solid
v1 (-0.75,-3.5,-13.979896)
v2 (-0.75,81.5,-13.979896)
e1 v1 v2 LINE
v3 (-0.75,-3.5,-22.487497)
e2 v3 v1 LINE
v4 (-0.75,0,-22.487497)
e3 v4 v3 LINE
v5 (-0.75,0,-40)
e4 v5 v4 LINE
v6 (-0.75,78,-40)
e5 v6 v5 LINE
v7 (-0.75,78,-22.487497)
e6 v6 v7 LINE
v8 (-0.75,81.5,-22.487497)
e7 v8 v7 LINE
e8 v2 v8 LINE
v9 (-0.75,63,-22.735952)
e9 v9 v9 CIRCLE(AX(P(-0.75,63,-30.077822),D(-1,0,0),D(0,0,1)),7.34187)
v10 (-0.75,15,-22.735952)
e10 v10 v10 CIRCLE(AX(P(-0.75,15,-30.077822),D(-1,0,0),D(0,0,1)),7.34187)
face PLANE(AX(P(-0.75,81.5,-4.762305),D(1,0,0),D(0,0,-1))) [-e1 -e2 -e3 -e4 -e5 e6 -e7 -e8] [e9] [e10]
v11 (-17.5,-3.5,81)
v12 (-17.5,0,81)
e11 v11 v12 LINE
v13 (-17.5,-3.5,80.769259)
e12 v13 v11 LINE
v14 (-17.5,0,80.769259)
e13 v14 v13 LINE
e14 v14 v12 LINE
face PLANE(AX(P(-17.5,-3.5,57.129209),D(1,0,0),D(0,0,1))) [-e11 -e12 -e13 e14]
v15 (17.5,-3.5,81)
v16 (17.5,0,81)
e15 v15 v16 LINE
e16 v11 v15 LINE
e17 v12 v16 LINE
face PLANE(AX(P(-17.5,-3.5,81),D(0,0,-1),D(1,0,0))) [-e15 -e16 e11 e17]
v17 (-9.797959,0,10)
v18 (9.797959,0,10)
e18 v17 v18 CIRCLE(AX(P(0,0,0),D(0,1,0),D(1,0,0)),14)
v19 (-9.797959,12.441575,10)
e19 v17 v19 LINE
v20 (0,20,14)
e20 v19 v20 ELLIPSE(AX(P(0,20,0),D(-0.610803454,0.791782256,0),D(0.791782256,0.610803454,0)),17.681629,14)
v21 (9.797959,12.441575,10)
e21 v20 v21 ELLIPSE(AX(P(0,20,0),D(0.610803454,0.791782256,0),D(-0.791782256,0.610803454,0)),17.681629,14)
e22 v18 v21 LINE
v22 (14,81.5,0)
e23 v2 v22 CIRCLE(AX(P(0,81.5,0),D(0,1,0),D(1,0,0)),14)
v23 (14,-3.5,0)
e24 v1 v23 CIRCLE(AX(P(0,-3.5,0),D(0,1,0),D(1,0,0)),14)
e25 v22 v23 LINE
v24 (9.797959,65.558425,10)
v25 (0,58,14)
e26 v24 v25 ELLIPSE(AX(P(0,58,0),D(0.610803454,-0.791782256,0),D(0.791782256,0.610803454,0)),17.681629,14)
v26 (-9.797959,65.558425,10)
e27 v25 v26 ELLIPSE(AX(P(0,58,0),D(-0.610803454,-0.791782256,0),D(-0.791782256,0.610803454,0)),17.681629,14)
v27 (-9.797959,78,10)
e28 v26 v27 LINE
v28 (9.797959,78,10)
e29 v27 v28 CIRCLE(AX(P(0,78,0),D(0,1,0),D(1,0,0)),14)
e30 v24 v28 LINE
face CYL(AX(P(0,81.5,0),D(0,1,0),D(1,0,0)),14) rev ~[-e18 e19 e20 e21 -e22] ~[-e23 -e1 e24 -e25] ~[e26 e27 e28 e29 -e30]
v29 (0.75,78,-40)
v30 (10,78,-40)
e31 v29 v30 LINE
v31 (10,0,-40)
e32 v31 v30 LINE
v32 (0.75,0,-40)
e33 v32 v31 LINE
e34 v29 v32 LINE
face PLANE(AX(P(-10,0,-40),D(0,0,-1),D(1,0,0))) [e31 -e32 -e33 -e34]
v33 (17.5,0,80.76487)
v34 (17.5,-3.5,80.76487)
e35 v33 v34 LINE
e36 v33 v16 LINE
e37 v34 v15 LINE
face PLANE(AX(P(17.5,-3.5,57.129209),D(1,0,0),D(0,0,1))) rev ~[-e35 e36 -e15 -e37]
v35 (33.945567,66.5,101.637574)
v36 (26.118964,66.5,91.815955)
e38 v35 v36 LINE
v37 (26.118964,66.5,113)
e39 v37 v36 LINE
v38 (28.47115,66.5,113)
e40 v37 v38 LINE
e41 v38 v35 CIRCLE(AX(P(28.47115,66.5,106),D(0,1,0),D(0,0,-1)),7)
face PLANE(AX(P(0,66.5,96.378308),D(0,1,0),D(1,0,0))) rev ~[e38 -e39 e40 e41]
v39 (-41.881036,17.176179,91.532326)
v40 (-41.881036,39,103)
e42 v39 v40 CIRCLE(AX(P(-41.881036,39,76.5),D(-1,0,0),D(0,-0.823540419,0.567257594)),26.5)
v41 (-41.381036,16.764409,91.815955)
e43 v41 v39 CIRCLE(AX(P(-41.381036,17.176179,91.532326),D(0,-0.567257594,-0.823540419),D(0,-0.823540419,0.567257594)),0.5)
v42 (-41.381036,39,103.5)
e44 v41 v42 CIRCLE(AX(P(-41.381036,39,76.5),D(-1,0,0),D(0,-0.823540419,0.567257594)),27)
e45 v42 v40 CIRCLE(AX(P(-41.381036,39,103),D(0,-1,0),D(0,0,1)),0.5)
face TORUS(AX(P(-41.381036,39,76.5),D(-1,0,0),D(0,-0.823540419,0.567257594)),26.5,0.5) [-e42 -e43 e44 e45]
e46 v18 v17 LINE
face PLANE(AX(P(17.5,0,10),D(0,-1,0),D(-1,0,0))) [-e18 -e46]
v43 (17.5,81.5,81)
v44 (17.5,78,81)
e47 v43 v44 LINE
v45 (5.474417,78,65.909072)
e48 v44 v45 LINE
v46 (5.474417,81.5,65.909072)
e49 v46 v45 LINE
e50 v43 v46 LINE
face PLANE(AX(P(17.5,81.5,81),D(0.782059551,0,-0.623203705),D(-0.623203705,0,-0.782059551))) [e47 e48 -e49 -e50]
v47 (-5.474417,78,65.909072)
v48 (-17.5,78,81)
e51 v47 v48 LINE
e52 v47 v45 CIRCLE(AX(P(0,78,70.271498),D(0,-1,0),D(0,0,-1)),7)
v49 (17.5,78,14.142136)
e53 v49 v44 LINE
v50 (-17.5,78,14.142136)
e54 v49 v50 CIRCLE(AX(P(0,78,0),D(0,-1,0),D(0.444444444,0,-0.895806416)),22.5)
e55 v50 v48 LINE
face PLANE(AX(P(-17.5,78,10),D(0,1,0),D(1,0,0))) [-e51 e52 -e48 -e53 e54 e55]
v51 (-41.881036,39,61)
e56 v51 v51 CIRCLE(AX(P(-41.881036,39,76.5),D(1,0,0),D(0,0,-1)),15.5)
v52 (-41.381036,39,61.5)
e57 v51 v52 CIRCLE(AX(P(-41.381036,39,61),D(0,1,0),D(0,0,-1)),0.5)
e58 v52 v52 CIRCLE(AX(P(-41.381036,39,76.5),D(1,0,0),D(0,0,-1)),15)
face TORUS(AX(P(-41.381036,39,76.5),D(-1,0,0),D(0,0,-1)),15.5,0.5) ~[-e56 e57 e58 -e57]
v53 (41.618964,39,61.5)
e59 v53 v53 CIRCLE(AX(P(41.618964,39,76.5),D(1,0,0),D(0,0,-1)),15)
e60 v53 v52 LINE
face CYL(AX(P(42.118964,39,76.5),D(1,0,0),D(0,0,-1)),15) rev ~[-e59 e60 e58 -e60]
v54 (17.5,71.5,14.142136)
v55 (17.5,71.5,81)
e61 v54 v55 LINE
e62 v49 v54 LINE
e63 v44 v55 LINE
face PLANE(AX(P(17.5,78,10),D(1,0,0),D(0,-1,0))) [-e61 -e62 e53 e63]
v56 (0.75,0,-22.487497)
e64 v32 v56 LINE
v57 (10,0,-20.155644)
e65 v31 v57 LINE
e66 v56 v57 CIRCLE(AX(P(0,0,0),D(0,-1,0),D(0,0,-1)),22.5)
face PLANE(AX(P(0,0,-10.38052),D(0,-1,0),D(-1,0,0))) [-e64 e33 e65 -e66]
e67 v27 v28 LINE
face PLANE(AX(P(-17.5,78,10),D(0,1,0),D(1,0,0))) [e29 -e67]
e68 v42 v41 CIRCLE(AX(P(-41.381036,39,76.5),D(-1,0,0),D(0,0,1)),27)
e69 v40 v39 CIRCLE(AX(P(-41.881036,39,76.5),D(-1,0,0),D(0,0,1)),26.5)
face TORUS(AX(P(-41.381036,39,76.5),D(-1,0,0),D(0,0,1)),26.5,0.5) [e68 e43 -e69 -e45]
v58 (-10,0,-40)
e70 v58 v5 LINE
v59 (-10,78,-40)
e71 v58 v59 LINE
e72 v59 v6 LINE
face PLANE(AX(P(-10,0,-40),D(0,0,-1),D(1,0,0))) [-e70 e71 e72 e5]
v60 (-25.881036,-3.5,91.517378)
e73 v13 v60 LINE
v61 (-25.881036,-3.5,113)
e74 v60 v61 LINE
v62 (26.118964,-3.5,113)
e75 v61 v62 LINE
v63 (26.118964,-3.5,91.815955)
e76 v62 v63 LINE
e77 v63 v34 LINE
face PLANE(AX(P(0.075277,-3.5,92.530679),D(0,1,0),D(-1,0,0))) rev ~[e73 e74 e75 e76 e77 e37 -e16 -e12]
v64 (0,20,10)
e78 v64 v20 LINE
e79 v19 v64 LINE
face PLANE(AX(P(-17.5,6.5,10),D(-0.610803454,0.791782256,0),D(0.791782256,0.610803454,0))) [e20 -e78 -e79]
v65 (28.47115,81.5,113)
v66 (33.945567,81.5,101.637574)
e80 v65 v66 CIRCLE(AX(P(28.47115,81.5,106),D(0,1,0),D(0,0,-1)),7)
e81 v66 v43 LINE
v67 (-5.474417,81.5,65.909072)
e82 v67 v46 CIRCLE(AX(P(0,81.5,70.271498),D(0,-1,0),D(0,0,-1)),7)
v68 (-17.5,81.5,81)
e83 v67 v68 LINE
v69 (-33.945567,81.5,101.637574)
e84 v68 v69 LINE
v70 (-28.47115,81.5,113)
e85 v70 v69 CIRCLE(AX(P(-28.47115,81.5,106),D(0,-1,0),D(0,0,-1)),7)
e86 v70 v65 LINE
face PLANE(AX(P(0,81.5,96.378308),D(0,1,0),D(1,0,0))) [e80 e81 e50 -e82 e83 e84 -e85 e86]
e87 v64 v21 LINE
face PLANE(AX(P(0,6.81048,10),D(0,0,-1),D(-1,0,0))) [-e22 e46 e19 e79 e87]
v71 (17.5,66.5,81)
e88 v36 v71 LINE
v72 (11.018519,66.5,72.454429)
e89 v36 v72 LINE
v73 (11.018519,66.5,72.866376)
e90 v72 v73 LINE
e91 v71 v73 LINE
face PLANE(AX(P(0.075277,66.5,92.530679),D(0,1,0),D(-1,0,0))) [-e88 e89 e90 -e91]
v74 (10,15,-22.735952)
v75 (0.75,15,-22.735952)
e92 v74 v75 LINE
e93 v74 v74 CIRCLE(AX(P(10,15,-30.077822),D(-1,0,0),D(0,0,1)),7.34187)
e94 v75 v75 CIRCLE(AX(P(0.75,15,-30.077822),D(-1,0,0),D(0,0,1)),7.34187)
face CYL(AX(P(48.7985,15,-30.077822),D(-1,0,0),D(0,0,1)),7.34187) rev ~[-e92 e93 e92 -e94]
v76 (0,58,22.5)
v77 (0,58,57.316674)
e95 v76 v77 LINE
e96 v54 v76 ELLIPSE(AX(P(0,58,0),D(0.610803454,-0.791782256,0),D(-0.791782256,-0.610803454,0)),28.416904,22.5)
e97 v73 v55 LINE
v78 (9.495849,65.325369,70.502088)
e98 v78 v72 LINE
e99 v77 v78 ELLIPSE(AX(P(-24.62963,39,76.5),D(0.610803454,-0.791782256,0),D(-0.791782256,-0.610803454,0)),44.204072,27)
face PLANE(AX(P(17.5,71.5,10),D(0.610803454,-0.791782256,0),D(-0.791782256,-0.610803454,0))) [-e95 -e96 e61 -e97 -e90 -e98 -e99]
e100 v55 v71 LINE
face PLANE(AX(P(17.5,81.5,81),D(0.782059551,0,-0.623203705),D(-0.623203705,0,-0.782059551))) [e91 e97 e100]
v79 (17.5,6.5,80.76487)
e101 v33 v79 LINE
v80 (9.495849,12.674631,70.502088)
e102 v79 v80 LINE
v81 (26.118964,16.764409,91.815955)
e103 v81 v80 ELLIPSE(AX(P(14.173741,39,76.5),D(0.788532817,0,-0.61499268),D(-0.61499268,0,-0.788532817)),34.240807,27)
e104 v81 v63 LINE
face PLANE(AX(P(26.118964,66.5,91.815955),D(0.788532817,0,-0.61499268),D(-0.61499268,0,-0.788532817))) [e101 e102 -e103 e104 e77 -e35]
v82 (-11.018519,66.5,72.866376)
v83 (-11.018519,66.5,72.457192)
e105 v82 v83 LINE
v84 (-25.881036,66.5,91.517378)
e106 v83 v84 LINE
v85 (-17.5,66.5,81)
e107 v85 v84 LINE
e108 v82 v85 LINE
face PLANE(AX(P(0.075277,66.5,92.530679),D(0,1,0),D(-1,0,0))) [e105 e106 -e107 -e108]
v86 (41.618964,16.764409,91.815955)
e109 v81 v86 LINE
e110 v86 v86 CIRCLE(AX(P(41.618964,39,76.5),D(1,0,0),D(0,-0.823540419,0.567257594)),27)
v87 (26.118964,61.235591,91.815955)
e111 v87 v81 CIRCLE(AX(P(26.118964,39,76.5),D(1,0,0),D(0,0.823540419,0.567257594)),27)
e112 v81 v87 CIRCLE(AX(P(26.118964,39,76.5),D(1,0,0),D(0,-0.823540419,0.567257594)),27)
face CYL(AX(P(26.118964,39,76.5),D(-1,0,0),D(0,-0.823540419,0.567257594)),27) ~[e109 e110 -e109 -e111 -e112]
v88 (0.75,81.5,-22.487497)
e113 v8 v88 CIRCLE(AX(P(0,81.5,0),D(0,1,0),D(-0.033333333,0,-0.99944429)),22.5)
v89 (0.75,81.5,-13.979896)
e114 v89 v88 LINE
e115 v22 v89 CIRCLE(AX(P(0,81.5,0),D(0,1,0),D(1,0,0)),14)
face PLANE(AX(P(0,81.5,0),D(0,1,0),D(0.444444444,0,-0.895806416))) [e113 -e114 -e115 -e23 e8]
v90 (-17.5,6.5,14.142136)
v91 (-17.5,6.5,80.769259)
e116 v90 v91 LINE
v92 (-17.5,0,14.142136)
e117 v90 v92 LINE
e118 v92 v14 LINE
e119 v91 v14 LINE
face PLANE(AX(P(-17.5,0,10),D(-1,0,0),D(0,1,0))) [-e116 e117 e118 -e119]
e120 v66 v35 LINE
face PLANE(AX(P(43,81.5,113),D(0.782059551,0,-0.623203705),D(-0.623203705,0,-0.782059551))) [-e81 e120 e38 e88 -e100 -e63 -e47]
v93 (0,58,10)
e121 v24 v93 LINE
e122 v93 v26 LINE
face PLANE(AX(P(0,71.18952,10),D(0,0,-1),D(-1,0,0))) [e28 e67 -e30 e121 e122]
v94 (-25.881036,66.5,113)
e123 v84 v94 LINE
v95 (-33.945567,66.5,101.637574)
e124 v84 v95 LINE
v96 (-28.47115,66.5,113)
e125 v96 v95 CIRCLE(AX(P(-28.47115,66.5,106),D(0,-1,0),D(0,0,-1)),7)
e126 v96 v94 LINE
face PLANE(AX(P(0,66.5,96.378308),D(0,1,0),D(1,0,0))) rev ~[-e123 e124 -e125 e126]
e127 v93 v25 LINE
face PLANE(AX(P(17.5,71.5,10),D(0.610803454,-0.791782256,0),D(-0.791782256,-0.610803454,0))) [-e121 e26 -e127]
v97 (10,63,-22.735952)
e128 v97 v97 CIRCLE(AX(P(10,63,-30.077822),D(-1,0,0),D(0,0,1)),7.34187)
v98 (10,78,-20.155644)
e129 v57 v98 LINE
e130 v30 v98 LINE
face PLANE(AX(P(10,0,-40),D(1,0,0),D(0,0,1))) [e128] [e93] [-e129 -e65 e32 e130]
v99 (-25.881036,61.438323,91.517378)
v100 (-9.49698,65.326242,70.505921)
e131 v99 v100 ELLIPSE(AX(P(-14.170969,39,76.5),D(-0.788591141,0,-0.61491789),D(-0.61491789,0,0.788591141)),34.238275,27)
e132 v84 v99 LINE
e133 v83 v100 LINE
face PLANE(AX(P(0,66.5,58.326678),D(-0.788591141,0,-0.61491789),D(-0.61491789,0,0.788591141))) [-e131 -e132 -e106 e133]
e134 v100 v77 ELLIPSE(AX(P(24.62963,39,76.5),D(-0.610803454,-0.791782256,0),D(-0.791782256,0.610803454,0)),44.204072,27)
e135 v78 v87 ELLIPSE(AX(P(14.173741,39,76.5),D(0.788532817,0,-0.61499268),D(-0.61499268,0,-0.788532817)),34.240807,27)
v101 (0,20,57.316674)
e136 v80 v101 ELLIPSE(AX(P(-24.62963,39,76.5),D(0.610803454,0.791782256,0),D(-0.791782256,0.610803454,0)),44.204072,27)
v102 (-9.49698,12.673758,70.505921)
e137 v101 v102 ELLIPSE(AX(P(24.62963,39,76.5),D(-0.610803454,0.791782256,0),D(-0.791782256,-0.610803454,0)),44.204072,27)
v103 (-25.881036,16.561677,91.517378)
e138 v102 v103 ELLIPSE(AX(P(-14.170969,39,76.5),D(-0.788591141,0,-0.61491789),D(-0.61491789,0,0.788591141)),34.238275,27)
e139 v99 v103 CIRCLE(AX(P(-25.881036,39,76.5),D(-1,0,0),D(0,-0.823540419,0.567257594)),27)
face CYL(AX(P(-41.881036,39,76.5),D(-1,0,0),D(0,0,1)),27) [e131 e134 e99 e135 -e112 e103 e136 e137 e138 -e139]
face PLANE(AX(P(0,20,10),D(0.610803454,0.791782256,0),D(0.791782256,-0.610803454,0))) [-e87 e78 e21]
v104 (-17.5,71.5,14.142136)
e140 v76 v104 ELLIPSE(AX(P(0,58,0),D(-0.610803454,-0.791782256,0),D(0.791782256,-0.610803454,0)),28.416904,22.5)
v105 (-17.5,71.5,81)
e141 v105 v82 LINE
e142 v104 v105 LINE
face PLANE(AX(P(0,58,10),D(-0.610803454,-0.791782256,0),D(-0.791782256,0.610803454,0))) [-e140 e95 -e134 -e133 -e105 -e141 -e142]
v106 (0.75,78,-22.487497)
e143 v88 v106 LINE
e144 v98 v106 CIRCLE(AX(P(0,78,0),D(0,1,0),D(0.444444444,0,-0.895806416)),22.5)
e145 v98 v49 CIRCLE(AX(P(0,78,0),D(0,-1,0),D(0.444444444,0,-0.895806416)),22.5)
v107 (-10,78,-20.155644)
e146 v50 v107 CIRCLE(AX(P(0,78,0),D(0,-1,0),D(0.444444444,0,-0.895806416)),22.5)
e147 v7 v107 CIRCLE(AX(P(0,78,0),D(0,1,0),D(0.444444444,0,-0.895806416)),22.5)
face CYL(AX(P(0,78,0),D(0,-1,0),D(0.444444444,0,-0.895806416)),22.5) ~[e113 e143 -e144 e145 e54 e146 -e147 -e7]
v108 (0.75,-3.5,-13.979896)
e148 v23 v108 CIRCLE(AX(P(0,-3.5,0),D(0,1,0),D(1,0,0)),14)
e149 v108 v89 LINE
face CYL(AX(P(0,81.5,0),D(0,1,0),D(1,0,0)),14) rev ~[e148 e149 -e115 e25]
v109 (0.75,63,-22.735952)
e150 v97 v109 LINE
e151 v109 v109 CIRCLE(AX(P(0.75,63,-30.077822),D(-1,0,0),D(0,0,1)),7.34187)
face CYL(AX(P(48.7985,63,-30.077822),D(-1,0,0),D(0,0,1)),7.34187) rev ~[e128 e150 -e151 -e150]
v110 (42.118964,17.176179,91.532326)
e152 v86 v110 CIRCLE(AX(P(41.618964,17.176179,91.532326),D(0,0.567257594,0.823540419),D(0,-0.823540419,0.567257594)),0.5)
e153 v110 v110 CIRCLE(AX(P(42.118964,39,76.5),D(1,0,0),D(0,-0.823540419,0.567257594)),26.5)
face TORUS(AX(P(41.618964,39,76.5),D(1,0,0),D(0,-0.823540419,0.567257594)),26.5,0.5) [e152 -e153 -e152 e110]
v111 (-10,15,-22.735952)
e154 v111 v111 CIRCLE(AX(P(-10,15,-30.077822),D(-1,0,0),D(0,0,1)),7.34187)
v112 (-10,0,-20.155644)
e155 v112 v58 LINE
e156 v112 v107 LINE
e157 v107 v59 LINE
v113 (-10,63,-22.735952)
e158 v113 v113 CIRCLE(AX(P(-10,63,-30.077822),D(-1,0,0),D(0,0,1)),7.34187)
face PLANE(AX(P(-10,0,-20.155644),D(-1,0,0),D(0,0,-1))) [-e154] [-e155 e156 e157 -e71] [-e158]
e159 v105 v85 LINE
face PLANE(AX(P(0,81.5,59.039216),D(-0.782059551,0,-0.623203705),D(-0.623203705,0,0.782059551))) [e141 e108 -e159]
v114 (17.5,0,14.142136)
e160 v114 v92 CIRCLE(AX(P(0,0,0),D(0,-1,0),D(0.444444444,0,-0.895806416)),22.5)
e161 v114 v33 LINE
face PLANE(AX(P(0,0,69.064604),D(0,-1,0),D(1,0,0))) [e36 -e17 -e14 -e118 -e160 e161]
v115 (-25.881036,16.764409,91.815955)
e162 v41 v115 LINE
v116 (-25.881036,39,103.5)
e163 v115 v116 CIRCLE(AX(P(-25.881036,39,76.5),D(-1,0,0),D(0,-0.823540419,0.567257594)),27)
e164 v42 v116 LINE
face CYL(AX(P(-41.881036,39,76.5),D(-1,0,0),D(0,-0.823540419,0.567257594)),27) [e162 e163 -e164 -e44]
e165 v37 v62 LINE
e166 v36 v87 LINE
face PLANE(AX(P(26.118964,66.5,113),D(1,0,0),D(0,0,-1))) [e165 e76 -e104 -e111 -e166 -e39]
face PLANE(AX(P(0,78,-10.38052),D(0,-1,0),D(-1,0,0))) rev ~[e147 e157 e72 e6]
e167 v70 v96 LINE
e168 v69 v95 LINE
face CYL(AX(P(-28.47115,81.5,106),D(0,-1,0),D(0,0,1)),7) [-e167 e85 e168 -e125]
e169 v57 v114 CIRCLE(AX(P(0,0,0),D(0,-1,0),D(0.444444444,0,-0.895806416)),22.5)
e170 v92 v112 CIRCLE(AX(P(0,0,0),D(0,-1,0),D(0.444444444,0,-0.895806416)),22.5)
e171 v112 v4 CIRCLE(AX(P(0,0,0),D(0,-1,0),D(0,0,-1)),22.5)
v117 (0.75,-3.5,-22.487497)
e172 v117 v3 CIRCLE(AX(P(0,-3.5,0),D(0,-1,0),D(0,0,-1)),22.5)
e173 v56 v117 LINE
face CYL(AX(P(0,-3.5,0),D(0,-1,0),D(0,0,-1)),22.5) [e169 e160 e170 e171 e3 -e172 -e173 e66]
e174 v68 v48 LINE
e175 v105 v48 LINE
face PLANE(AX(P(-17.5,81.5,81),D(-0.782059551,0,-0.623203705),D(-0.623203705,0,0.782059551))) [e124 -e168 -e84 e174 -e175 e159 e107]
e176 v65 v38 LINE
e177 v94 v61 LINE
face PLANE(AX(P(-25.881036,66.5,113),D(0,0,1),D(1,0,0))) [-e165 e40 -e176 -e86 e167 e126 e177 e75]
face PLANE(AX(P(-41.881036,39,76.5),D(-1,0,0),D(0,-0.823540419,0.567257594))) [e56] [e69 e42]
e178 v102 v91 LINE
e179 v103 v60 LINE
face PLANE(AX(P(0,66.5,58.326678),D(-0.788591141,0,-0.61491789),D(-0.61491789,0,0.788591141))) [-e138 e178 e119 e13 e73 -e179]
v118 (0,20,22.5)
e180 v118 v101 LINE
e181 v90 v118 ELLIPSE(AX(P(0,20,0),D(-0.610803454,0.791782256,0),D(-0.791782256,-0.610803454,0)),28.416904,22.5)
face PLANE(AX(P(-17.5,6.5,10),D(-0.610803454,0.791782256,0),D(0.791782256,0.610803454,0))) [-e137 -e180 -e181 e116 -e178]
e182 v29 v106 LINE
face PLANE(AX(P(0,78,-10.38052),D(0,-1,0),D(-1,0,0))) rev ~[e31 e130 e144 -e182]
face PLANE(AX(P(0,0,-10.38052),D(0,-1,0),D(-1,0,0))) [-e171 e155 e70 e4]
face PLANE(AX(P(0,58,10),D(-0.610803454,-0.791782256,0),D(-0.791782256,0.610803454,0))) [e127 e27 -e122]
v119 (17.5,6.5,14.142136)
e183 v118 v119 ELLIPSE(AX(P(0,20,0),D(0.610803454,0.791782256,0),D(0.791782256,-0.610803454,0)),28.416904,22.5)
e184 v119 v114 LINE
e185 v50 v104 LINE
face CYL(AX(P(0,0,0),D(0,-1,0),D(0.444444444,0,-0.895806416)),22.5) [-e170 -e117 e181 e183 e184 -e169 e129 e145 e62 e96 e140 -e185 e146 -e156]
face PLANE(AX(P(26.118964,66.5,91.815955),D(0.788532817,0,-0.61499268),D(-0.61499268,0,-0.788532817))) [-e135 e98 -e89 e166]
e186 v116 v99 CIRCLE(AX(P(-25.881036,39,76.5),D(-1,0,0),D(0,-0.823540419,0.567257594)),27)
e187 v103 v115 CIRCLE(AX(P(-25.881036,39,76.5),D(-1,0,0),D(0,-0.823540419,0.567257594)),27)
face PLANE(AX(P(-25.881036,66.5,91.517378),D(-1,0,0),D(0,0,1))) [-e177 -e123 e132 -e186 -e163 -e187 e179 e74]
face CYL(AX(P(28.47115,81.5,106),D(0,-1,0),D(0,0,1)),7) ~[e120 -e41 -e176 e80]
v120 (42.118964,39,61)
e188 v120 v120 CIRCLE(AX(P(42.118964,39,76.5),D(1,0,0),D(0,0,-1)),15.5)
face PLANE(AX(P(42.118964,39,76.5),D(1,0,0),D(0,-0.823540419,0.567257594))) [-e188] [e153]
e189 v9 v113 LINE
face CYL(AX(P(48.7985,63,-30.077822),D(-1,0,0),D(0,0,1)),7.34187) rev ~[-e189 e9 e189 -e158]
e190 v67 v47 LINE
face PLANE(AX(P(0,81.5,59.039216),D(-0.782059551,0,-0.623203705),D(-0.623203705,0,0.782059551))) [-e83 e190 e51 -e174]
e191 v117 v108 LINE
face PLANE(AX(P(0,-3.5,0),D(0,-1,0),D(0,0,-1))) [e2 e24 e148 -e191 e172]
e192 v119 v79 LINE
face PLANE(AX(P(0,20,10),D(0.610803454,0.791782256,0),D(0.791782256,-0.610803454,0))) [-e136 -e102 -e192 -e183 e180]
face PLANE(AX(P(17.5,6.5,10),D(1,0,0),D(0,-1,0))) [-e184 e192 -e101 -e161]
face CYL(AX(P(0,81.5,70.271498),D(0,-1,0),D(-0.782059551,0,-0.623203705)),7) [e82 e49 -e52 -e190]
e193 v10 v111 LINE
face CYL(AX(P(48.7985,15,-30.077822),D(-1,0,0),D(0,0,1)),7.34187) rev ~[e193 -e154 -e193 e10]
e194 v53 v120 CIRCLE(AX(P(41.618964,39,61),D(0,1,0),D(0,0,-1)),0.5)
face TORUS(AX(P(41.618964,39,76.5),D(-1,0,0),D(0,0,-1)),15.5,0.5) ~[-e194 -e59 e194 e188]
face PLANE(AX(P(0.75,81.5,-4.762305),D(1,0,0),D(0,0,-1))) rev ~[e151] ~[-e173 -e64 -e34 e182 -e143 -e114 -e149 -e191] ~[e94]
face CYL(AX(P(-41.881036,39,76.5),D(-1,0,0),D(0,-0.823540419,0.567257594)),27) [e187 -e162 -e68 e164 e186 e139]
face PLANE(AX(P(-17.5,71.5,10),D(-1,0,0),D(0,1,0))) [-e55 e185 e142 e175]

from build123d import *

# Parameters (mm, degrees)
EXTRUDE_1_DEPTH            = 78
SKETCH_3_R                 = 22.5
EXTRUDE_2_DEPTH            = 3.5
EXTRUDE_START              = 3.5
SKETCH_4_R                 = 22.5
EXTRUDE_3_DEPTH            = 3.5
SKETCH_5_W                 = 1.5
SKETCH_5_H                 = 36.764720589
CUT_EXTRUDE_1_DEPTH        = 97.598395432
SKETCH_6_R                 = 14
CUT_EXTRUDE_2_DEPTH        = 97.598395432
EXTRUDE_4_DEPTH            = 71
EXTRUDE_5_DEPTH            = 15
FILLET_1_R                 = 7
EXTRUDE_6_DEPTH            = 70
SKETCH_10_W                = 35
SKETCH_10_H                = 23.870791075
CUT_EXTRUDE_3_DEPTH        = 3.5
SKETCH_11_R                = 27
EXTRUDE_7_DEPTH            = 16
EXTRUDE_START_2            = 16
SKETCH_12_R                = 27
EXTRUDE_8_DEPTH            = 16
EXTRUDE_START_3            = 68
SKETCH_13_R                = 27
EXTRUDE_9_DEPTH            = 68
SKETCH_16_R                = 15
CUT_EXTRUDE_4_DEPTH        = 163.687584038
FILLET_2_R                 = 0.5
HOLE_WIZARD_5_8_18_1_D     = 14.68374
HOLE_WIZARD_5_8_18_1_DEPTH = 38.7985
HOLE_WIZARD_5_8_18_1_TIP   = 4.411440553


with BuildPart() as part:
    # 草图1 → 拉伸1 (new body)
    with BuildSketch(Plane(origin=(0, 0, 0), x_dir=(1, 0, 0), z_dir=(0, 1, 0))):
        with BuildLine():
            Line((-10, 20.155644371), (-10, 40))
            Line((-10, 40), (10, 40))
            Line((10, 40), (10, 20.155644371))
            ThreePointArc((10, 20.155644371), (0, -22.5), (-10, 20.155644371))
        make_face()
    extrude(amount=EXTRUDE_1_DEPTH)

    # 草图3 → 拉伸2 (add)
    with BuildSketch(Plane(origin=(0, 78, 0), x_dir=(1, 0, 0), z_dir=(0, 1, 0))):
        with Locations(Location((0, 0, 0), (0, 0, 63.612200039))):
            Circle(SKETCH_3_R)
    extrude(amount=EXTRUDE_2_DEPTH)

    # 草图4 → 拉伸3 (add)
    with BuildSketch(Plane.XZ.offset(EXTRUDE_START)):
        with Locations(Location((0, 0, 0), (0, 0, 270))):
            Circle(SKETCH_4_R)
    extrude(amount=-EXTRUDE_3_DEPTH)

    # 草图5 → 切除-拉伸1 (cut, through all)
    with BuildSketch(Plane(origin=(0, 81.5, 0), x_dir=(1, 0, 0), z_dir=(0, 1, 0))):
        with Locations((0, 23.144665006)):
            Rectangle(SKETCH_5_W, SKETCH_5_H)
    extrude(amount=-CUT_EXTRUDE_1_DEPTH, mode=Mode.SUBTRACT)

    # 草图6 → 切除-拉伸2 (cut, through all)
    with BuildSketch(Plane(origin=(0, 81.5, 0), x_dir=(1, 0, 0), z_dir=(0, 1, 0))):
        Circle(SKETCH_6_R)
    extrude(amount=-CUT_EXTRUDE_2_DEPTH, mode=Mode.SUBTRACT)

    # 草图7 → 拉伸4 (add)
    with BuildSketch(Plane.XY.offset(10)):
        Polygon((-17.5, 78), (17.5, 78), (17.5, 71.5), (0, 58), (-17.5, 71.5), align=None)
        Polygon((-17.5, 6.5), (0, 20), (17.5, 6.5), (17.5, 0), (-17.5, 0), align=None)
    extrude(amount=EXTRUDE_4_DEPTH)

    # 草图8 → 拉伸5 (add)
    with BuildSketch(Plane(origin=(0, 81.5, 0), x_dir=(1, 0, 0), z_dir=(0, 1, 0))):
        Polygon((-43, -113), (43, -113), (17.5, -81), (0, -59.039215686), (-17.5, -81), align=None)
    extrude(amount=-EXTRUDE_5_DEPTH)

    # 圆角1
    fillet_1_edges = [part.edges().sort_by_distance(p)[0] for p in [
        (-43, 74, 113),
        (0, 79.75, 59.039215686),
        (43, 74, 113),
    ]]
    fillet(fillet_1_edges, radius=FILLET_1_R)

    # 草图9 → 拉伸6 (add)
    with BuildSketch(Plane.XZ.offset(-66.5)):
        Polygon((-25.881035827, 113), (26.118964173, 113), (26.118964173, 91.81595504), (0, 58.326677723), (-25.881035827, 91.517378293), align=None)
    extrude(amount=EXTRUDE_6_DEPTH)

    # 草图10 → 切除-拉伸3 (cut)
    with BuildSketch(Plane.XZ.offset(3.5)):
        with Locations((0, 69.064604463)):
            Rectangle(SKETCH_10_W, SKETCH_10_H)
    extrude(amount=-CUT_EXTRUDE_3_DEPTH, mode=Mode.SUBTRACT)

    # 草图11 → 拉伸7 (add)
    with BuildSketch(Plane(origin=(26.118964173, 0, 0), x_dir=(0, 0, -1), z_dir=(1, 0, 0))):
        with Locations(Location((-76.5, 39, 0), (0, 0, 235.440790003))):
            Circle(SKETCH_11_R)
    extrude(amount=EXTRUDE_7_DEPTH)

    # 草图12 → 拉伸8 (add)
    with BuildSketch(Plane.ZY.offset(25.881035827).offset(EXTRUDE_START_2)):
        with Locations(Location((76.5, 39, 0), (0, 0, 304.559209997))):
            Circle(SKETCH_12_R)
    extrude(amount=-EXTRUDE_8_DEPTH)

    # 草图13 → 拉伸9 (add)
    with BuildSketch(Plane.ZY.offset(-26.118964173).offset(EXTRUDE_START_3)):
        with Locations((76.5, 39)):
            Circle(SKETCH_13_R)
    extrude(amount=-EXTRUDE_9_DEPTH)

    # 草图16 → 切除-拉伸4 (cut, through all)
    with BuildSketch(Plane(origin=(42.118964173, 0, 0), x_dir=(0, 0, -1), z_dir=(1, 0, 0))):
        with Locations((-76.5, 39)):
            Circle(SKETCH_16_R)
    extrude(amount=-CUT_EXTRUDE_4_DEPTH, mode=Mode.SUBTRACT)

    # 圆角2
    fillet_2_edges = [part.edges().sort_by_distance(p)[0] for p in [
        (42.118964173, 61.235591317, 61.18404496),
        (-41.881035827, 51.559243885, 52.598841178),
        (-41.881035827, 39, 91.5),
        (42.118964173, 39, 91.5),
    ]]
    fillet(fillet_2_edges, radius=FILLET_2_R)

    # 5/8-18 螺纹孔1
    with Locations(Plane(origin=(10, 0, 0), x_dir=(0, 0, -1), z_dir=(1, 0, 0))):
        with Locations((30.077822185, 63), (30.077822185, 15)):
            Hole(HOLE_WIZARD_5_8_18_1_D / 2, depth=HOLE_WIZARD_5_8_18_1_DEPTH)
            with Locations((0, 0, -(HOLE_WIZARD_5_8_18_1_DEPTH + HOLE_WIZARD_5_8_18_1_TIP / 2))):  # 118° drill point
                Cone(0, HOLE_WIZARD_5_8_18_1_D / 2, HOLE_WIZARD_5_8_18_1_TIP, mode=Mode.SUBTRACT)


solid = part.part
